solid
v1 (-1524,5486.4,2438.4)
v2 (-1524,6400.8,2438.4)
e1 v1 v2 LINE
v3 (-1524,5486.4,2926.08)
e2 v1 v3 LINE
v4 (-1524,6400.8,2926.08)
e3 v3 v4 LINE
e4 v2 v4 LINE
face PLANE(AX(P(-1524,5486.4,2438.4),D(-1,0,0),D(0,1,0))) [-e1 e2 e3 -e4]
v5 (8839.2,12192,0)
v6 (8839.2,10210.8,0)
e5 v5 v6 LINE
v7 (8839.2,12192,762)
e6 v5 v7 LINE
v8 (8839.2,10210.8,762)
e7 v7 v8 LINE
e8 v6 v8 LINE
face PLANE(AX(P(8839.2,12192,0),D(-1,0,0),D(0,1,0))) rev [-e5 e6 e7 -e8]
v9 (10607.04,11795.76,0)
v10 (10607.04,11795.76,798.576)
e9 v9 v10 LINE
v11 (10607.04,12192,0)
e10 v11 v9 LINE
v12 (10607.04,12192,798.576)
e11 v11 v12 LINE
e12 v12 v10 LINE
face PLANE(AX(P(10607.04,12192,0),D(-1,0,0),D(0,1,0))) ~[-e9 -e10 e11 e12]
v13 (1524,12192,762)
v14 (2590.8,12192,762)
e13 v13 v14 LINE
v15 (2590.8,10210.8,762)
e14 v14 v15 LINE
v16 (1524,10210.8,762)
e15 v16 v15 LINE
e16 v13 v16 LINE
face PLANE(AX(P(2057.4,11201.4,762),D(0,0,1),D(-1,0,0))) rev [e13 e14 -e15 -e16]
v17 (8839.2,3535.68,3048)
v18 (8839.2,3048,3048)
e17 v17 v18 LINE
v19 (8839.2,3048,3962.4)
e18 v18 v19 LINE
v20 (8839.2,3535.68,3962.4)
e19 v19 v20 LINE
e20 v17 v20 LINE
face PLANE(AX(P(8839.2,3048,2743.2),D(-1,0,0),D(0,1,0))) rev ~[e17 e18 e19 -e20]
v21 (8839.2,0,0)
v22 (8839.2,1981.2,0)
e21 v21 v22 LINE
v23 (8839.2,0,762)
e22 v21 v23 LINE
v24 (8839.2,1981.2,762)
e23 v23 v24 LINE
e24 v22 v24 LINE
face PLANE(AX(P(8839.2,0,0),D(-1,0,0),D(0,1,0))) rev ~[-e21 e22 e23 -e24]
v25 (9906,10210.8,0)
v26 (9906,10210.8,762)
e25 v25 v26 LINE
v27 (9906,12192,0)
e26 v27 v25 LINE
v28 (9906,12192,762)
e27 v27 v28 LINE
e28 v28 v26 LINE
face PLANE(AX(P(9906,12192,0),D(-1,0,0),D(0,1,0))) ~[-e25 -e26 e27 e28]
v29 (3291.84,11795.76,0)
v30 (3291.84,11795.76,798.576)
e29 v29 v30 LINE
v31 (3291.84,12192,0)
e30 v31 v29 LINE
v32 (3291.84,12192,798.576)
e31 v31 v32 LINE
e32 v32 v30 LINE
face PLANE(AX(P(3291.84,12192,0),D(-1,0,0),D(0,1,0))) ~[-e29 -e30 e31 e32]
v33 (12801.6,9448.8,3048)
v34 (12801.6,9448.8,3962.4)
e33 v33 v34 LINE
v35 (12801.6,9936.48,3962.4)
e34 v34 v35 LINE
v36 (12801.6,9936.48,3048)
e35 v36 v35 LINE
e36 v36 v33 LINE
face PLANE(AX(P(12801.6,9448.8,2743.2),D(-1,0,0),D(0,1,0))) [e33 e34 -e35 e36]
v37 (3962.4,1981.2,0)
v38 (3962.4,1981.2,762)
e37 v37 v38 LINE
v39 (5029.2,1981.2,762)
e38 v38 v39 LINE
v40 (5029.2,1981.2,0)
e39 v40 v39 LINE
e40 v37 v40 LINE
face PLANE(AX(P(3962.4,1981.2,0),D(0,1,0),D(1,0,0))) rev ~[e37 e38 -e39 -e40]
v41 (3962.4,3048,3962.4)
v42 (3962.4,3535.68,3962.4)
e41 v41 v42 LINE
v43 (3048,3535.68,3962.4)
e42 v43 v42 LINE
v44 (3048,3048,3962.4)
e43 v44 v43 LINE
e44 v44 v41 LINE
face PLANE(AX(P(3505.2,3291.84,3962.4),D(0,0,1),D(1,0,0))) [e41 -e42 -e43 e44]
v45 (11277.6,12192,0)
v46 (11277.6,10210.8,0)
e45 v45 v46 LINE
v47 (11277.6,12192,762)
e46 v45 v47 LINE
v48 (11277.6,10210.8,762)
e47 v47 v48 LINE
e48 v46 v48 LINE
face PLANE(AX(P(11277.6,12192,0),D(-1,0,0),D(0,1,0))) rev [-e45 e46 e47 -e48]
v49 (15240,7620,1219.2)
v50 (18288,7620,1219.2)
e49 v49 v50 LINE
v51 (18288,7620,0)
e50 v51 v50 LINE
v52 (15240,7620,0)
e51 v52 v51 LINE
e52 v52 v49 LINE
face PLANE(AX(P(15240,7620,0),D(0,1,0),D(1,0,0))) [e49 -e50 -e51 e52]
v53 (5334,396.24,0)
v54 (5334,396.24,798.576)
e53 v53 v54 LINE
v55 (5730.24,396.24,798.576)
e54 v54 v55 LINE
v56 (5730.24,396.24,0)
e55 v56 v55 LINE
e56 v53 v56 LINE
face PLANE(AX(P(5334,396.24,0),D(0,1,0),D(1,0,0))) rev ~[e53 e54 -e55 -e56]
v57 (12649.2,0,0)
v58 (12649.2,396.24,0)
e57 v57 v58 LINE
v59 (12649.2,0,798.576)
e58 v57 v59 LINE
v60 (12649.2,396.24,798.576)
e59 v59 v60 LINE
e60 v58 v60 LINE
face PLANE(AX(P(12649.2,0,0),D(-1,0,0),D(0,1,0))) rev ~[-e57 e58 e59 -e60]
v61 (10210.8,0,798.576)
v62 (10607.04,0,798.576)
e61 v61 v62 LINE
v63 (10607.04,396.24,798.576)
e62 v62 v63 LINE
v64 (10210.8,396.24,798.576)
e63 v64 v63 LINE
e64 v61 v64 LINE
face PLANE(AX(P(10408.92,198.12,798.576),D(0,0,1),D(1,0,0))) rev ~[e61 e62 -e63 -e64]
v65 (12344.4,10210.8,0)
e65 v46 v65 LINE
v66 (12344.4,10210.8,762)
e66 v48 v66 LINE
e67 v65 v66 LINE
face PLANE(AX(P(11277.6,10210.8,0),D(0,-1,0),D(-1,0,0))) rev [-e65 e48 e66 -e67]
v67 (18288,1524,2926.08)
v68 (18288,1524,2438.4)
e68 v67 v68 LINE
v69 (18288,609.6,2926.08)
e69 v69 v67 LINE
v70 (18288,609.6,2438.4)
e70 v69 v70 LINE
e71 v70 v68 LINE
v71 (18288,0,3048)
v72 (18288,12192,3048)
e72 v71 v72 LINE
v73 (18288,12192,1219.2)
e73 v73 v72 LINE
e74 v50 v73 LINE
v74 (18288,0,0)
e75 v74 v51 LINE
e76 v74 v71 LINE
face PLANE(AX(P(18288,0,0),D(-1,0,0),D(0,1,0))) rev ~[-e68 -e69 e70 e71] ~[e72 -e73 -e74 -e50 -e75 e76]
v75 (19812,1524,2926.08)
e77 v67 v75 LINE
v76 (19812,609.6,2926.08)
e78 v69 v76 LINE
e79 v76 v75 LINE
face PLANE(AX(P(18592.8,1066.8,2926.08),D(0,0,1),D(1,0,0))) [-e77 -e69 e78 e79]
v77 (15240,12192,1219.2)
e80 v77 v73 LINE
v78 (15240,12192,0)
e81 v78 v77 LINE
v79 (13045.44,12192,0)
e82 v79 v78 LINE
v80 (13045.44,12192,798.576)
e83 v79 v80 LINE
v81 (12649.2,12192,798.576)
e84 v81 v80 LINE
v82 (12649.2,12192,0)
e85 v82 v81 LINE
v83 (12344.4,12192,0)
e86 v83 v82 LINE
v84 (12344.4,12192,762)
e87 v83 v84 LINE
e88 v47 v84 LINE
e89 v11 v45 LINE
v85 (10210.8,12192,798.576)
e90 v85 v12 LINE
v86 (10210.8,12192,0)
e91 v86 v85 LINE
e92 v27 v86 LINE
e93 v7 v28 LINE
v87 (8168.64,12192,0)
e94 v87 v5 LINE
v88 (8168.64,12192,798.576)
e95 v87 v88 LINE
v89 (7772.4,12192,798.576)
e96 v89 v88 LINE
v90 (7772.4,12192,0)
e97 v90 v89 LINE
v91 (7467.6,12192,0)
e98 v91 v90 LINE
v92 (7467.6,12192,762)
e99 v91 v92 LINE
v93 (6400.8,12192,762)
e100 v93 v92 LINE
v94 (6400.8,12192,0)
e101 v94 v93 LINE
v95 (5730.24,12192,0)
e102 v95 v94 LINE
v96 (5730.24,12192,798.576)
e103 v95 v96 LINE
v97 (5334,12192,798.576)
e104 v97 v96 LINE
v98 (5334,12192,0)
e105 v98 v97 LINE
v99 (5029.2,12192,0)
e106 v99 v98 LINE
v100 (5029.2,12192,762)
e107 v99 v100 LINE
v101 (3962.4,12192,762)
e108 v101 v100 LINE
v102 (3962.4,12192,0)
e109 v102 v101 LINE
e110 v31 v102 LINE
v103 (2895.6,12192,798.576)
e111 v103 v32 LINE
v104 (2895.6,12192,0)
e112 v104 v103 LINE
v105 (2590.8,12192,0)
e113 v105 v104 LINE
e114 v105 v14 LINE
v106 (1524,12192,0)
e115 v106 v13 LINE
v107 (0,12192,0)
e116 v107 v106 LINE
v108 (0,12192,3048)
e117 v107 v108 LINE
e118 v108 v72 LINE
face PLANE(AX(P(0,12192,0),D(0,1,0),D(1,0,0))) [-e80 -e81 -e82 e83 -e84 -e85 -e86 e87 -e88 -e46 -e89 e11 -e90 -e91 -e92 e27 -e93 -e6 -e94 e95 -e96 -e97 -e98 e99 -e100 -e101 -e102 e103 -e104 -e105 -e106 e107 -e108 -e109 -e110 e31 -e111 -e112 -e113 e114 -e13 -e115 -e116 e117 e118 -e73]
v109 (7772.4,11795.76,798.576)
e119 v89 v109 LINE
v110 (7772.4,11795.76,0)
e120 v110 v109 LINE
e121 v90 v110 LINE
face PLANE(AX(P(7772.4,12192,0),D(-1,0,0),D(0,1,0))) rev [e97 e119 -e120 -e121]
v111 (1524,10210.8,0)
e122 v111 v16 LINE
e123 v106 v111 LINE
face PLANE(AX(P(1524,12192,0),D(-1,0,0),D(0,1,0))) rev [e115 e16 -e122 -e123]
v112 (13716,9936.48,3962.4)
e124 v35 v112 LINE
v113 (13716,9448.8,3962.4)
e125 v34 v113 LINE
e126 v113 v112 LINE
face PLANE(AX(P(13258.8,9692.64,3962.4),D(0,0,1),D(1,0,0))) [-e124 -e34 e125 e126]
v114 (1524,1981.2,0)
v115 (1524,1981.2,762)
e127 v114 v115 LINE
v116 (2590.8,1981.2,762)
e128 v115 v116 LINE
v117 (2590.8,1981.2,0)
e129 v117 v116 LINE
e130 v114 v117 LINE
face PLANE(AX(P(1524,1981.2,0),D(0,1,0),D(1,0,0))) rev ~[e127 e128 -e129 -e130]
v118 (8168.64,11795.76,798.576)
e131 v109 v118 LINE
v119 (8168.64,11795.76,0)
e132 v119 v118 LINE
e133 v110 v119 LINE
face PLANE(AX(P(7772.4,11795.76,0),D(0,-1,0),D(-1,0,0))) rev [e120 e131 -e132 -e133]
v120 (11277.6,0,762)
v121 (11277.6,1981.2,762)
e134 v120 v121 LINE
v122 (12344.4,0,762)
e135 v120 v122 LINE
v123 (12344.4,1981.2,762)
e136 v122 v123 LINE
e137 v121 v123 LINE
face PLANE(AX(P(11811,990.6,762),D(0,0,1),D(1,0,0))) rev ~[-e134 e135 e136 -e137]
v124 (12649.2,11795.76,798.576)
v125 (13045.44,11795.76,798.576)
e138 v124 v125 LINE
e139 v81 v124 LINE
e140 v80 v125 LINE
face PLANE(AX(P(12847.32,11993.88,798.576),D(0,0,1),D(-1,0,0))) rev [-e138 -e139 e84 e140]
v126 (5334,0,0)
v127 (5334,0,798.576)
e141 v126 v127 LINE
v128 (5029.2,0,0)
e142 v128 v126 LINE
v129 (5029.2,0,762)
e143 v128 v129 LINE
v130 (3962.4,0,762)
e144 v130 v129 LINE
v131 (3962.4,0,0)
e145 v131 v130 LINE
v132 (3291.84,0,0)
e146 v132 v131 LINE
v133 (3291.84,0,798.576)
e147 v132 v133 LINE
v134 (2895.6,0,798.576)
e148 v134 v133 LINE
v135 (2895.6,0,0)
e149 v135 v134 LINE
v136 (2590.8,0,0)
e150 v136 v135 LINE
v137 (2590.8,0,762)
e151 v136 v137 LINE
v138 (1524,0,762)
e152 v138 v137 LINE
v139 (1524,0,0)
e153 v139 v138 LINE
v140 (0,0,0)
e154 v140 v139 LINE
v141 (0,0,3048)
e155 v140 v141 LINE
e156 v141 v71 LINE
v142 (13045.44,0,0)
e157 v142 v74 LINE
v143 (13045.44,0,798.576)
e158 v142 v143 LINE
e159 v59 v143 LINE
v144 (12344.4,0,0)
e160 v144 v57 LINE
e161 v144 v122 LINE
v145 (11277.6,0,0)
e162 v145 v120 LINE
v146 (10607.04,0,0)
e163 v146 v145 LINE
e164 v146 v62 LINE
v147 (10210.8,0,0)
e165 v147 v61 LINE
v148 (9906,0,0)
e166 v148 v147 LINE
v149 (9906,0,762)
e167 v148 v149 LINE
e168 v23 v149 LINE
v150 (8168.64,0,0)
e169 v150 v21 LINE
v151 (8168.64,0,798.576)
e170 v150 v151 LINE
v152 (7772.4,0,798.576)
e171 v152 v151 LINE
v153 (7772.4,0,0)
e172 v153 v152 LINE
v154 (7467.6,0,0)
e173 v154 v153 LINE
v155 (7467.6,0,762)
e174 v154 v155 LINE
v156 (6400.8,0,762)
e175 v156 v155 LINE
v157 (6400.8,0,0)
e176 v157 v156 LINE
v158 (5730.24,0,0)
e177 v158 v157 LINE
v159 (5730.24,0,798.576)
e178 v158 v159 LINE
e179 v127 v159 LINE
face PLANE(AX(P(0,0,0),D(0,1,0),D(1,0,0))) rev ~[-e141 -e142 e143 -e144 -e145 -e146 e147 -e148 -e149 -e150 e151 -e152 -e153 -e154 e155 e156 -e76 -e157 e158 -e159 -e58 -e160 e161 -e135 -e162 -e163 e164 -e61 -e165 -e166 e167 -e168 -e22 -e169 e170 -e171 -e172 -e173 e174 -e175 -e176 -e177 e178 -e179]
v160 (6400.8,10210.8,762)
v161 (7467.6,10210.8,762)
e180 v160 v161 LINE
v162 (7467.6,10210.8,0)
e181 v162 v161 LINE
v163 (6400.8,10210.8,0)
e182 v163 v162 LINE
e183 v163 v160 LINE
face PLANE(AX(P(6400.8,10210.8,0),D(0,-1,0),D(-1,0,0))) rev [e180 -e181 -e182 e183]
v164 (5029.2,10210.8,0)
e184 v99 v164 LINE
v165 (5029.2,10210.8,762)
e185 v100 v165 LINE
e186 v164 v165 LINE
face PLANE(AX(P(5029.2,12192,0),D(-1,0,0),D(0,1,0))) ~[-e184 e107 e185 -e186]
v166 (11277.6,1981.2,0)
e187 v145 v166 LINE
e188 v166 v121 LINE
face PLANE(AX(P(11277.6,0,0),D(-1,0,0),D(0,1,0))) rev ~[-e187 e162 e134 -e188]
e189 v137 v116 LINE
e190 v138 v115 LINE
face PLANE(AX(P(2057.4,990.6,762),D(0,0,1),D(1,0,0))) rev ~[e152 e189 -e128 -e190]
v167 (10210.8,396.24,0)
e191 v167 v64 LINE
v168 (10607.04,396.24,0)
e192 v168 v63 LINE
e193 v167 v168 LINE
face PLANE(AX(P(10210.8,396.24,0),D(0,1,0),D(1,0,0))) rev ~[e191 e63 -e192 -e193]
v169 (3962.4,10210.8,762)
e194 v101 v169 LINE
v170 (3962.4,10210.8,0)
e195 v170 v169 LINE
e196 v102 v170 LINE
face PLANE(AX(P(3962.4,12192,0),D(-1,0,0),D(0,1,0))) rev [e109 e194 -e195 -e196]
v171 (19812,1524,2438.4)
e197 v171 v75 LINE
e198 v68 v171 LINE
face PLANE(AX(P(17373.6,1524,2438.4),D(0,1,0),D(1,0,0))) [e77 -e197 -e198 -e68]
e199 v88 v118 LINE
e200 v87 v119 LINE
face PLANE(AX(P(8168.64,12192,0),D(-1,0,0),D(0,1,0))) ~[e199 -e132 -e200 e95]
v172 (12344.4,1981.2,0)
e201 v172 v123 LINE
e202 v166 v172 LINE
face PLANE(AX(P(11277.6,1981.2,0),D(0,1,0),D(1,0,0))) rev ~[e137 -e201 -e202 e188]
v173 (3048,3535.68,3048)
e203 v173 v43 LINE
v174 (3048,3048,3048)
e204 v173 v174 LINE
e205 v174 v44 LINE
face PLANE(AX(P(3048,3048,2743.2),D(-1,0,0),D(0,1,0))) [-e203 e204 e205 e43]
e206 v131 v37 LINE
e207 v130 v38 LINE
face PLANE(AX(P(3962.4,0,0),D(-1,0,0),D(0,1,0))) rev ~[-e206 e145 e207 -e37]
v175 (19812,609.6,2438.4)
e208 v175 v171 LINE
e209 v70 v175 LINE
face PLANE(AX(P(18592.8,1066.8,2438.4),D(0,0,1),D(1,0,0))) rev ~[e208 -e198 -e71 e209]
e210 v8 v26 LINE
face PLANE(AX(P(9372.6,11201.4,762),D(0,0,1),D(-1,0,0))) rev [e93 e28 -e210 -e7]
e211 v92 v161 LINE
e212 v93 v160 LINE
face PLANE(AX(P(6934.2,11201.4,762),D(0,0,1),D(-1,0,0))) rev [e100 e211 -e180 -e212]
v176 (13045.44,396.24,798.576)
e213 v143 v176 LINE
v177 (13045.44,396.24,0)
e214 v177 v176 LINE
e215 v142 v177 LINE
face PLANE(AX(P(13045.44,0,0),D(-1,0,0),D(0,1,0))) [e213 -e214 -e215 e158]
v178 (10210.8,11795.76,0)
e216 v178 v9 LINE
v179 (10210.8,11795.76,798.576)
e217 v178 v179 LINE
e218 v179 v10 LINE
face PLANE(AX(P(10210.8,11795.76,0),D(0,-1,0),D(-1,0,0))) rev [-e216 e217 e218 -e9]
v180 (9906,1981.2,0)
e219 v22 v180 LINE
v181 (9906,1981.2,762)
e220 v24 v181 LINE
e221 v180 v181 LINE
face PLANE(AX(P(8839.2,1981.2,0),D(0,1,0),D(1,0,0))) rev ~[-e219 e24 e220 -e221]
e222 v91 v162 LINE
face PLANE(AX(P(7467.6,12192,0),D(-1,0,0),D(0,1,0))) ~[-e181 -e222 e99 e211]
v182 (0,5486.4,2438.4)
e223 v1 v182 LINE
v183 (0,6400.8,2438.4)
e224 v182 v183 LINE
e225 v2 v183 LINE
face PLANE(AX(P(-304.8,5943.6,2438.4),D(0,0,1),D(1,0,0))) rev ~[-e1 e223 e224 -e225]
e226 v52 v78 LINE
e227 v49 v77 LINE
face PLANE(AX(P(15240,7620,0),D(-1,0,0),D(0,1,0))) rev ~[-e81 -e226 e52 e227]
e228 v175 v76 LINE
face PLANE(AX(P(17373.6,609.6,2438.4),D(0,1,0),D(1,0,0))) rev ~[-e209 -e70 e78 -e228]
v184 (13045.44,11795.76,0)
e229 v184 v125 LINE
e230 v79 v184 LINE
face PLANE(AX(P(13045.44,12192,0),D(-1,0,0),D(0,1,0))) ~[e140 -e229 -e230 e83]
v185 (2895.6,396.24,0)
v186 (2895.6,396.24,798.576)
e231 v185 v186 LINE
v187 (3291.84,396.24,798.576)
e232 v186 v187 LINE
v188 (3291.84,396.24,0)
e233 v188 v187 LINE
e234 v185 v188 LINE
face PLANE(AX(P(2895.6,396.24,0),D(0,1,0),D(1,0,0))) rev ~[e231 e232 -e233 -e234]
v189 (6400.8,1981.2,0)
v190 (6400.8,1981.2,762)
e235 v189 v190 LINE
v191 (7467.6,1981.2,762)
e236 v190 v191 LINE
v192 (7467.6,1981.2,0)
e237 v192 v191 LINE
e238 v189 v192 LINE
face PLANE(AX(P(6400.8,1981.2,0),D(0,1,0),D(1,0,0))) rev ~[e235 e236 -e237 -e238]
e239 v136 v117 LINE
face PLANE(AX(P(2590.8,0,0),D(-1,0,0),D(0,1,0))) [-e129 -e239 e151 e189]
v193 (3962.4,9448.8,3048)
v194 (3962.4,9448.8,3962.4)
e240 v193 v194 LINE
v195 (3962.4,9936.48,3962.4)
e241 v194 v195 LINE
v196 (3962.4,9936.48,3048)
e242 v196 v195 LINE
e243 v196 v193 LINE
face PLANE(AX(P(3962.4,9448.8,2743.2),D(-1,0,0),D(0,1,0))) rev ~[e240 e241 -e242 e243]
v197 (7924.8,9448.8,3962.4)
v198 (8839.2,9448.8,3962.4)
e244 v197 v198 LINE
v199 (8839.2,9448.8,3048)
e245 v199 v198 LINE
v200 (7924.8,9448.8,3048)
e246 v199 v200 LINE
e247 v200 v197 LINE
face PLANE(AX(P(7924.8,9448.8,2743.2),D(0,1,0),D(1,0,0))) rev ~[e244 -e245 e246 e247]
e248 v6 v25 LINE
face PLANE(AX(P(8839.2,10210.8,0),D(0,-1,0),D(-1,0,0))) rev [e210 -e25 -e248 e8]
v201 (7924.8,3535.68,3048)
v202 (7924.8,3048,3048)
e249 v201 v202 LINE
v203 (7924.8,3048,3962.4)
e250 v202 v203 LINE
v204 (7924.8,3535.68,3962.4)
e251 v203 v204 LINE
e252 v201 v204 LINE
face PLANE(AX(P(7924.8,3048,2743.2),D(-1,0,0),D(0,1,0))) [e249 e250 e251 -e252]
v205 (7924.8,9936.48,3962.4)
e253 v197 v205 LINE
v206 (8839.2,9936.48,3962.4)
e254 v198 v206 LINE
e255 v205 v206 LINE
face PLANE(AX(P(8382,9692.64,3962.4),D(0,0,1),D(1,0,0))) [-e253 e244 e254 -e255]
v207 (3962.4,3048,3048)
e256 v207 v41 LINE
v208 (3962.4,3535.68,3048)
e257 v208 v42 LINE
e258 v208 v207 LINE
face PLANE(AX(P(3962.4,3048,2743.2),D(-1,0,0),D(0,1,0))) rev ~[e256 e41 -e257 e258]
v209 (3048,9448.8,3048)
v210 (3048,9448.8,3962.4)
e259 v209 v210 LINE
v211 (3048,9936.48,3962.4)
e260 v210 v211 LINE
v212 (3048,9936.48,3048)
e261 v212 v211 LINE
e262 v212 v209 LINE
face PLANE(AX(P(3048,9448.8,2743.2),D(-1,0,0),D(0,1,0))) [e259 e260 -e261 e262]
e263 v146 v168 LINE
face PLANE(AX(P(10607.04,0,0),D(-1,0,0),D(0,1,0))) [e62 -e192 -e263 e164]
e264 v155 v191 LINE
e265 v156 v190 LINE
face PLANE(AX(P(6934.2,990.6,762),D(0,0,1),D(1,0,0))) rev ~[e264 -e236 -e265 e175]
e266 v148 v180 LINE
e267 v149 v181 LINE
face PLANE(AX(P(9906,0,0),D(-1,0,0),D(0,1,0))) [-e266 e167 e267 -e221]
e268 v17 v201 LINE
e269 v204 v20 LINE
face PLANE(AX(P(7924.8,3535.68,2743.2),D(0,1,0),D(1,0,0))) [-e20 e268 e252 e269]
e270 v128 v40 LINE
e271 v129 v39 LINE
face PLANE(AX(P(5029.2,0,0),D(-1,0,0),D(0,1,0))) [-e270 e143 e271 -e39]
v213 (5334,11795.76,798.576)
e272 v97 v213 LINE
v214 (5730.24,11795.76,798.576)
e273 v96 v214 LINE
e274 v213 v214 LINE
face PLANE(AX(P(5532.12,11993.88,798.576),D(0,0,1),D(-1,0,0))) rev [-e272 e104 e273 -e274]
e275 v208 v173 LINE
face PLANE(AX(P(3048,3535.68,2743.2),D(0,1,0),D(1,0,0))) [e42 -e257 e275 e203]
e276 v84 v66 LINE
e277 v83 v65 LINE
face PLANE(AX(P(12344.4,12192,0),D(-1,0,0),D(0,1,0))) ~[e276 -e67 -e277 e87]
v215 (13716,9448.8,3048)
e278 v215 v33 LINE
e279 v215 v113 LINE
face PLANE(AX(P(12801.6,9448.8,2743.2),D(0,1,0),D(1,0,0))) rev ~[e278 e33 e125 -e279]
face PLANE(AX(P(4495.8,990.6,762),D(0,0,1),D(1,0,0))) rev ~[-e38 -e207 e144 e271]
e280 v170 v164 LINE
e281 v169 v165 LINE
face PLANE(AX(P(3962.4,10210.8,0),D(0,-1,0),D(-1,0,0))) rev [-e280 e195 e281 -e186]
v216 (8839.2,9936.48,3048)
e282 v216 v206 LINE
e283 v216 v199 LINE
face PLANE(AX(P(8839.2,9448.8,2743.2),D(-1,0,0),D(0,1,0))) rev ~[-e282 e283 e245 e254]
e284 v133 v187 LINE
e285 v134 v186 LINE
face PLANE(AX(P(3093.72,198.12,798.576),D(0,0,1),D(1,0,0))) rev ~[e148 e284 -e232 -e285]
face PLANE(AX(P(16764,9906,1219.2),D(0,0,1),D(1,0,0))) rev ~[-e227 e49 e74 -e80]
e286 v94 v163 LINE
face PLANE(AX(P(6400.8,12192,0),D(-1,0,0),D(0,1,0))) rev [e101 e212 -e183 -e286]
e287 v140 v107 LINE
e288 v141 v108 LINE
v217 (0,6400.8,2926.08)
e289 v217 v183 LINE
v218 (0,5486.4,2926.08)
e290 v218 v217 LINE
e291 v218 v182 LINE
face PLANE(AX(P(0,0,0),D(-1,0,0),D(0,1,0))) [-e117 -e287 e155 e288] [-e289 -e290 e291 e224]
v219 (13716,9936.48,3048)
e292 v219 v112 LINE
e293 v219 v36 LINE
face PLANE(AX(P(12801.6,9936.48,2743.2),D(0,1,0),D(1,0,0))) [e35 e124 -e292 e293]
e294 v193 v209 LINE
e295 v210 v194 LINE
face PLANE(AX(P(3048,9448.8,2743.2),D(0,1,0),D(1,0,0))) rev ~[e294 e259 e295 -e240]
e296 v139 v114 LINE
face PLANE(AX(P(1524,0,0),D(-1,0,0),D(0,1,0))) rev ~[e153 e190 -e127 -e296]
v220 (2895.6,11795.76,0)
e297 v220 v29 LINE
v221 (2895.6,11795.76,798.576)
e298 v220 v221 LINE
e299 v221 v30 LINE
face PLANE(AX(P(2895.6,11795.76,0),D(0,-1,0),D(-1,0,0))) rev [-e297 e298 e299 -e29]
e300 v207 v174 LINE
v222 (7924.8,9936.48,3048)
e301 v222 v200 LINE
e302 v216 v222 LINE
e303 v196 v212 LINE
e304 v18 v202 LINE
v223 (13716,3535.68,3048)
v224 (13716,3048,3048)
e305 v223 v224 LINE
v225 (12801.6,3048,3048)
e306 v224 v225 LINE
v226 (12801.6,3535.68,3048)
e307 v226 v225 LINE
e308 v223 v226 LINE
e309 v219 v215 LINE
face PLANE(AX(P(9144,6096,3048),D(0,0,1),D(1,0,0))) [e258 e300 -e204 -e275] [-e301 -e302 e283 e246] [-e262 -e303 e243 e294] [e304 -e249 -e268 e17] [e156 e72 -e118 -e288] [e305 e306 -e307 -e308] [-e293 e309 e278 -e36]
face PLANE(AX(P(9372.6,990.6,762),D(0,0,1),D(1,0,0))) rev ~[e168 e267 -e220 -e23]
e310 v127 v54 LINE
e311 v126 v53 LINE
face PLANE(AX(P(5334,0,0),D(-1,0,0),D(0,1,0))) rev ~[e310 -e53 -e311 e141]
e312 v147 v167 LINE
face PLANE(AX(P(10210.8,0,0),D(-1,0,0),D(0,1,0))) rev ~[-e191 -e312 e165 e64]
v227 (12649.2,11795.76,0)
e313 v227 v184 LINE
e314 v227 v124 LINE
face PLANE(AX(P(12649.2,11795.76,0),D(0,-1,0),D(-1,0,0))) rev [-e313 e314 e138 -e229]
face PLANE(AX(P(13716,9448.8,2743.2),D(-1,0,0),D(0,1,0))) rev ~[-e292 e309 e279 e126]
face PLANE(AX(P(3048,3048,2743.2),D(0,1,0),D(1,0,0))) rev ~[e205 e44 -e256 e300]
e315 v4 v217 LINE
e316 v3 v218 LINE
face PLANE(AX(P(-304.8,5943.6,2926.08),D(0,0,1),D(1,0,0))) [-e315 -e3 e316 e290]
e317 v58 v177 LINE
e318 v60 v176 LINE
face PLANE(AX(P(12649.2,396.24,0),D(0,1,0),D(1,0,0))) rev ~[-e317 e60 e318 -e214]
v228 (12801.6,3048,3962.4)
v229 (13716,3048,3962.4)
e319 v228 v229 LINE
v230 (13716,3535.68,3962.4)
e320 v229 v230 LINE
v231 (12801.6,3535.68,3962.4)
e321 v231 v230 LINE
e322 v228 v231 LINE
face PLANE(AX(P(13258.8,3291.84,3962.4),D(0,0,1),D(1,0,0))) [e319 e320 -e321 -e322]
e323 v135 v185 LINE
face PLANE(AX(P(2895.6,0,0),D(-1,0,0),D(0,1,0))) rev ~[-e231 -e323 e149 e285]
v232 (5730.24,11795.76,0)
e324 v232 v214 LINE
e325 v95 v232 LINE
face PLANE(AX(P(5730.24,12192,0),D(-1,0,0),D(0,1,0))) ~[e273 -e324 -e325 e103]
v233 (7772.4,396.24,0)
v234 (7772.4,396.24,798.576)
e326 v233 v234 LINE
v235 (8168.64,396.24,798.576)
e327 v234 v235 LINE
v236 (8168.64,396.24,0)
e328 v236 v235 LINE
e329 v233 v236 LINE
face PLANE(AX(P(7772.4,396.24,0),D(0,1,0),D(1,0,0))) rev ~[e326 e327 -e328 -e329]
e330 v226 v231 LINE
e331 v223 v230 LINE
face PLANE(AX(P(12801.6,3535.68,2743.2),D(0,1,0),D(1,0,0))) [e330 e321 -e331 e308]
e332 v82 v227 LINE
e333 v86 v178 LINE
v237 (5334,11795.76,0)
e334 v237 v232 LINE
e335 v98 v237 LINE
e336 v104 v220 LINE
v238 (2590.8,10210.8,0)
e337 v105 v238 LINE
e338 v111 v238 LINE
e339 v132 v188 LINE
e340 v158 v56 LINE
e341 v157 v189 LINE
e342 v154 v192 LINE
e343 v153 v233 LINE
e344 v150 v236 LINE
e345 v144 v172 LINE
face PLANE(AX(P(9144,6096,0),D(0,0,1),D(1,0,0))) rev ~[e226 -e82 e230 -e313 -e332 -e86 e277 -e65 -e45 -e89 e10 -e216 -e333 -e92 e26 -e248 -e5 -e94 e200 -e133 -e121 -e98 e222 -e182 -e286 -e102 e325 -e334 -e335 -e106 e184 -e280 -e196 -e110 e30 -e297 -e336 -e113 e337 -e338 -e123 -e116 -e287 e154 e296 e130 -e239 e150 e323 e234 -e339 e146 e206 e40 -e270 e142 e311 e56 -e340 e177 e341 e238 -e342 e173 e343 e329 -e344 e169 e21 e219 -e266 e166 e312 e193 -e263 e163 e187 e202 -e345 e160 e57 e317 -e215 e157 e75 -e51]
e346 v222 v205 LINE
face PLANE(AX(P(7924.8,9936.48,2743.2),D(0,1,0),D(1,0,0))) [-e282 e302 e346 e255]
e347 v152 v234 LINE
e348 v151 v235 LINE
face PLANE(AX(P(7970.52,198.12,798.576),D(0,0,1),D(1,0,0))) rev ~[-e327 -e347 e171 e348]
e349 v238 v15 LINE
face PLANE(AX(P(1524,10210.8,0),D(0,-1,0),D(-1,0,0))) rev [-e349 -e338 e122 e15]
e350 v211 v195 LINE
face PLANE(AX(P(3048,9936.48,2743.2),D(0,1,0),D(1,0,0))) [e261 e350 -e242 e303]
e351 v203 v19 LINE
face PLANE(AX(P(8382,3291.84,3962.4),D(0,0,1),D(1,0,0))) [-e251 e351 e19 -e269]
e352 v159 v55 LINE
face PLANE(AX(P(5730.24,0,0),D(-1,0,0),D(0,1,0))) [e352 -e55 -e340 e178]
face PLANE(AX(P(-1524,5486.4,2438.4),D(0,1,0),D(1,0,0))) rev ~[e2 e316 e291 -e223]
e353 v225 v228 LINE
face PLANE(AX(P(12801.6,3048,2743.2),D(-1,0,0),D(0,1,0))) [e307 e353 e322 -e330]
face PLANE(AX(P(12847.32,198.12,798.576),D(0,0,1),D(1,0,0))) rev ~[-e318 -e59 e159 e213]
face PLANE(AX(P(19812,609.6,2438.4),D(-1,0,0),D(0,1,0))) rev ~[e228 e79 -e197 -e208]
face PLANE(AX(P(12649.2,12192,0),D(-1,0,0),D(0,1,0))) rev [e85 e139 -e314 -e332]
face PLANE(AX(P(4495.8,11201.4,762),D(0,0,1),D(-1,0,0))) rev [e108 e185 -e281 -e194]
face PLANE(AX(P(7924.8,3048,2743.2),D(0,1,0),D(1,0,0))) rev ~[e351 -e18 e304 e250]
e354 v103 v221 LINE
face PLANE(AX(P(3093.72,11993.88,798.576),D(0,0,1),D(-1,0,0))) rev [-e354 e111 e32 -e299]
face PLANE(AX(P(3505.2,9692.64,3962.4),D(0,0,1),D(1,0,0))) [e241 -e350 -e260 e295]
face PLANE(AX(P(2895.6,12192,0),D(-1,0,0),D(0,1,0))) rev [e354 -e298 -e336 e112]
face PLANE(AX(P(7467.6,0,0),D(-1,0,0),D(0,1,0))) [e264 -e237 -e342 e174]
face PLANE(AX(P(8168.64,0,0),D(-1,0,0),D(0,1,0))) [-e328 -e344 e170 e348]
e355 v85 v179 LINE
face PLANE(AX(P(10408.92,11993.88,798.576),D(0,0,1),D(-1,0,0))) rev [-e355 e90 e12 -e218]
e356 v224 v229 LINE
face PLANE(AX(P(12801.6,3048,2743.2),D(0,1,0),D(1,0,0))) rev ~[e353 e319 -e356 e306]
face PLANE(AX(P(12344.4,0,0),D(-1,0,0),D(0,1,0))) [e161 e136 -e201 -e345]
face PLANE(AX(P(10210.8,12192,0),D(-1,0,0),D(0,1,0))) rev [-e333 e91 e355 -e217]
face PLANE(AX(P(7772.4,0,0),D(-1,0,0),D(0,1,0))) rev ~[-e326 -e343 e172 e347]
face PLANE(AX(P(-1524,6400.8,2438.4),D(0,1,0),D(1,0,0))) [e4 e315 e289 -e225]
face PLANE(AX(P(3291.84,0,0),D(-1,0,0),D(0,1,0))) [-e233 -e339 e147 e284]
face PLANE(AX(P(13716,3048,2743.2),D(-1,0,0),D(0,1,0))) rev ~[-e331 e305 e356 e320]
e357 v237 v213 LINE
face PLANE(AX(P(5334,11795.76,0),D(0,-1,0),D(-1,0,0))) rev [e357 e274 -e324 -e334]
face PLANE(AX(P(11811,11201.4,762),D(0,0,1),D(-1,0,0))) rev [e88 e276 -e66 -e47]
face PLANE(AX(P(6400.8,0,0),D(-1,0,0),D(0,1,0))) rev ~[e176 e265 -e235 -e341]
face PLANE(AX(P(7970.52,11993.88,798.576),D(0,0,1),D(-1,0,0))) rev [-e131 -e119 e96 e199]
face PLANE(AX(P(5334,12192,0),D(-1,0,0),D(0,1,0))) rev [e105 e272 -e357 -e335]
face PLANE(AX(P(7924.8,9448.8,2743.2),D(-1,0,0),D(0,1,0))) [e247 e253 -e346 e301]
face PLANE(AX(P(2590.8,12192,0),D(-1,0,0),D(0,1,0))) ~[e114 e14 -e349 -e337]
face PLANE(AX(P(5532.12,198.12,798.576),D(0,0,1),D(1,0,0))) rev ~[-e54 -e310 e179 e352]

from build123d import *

# Parameters (mm, degrees)
BOX011_W     = 3048
BOX011_H     = 4572
BOX011_DEPTH = 1219.2
BOX006_W     = 1066.8
BOX006_H     = 1981.2
BOX006_DEPTH = 762
BOX005_W     = 396.24
BOX005_H     = 396.24
BOX005_DEPTH = 798.576
BOX007_W     = 1066.8
BOX007_H     = 1981.2
BOX007_DEPTH = 762
BOX008_W     = 396.24
BOX008_H     = 396.24
BOX008_DEPTH = 798.576
BOX010_W     = 1066.8
BOX010_H     = 1981.2
BOX010_DEPTH = 762
BOX009_W     = 396.24
BOX009_H     = 396.24
BOX009_DEPTH = 798.576
BOX001_W     = 1066.8
BOX001_H     = 1981.2
BOX001_DEPTH = 762
BOX002_W     = 396.24
BOX002_H     = 396.24
BOX002_DEPTH = 798.576
BOX003_W     = 1066.8
BOX003_H     = 1981.2
BOX003_DEPTH = 762
BOX004_W     = 396.24
BOX004_H     = 396.24
BOX004_DEPTH = 798.576
BOX016_W     = 914.4
BOX016_H     = 487.68
BOX016_DEPTH = 1219.2
BOX018_W     = 914.4
BOX018_H     = 487.68
BOX018_DEPTH = 1219.2
BOX017_W     = 914.4
BOX017_H     = 487.68
BOX017_DEPTH = 1219.2
BOX015_W     = 914.4
BOX015_H     = 487.68
BOX015_DEPTH = 1219.2
BOX014_W     = 914.4
BOX014_H     = 487.68
BOX014_DEPTH = 1219.2
BOX019_W     = 914.4
BOX019_H     = 487.68
BOX019_DEPTH = 1219.2
BOX013_W     = 2438.4
BOX013_H     = 914.4
BOX013_DEPTH = 487.68
BOX012_W     = 2438.4
BOX012_H     = 914.4
BOX012_DEPTH = 487.68
BOX_W        = 18288
BOX_H        = 12192
BOX_DEPTH    = 3048


with BuildPart() as nurse_station:
    # Box011 → Box011 (new body)
    with BuildSketch(Plane(origin=(15240, 7620, 0), x_dir=(1, 0, 0), z_dir=(0, 0, 1))):
        with Locations((1524, 2286)):
            Rectangle(BOX011_W, BOX011_H)
    extrude(amount=BOX011_DEPTH)


with BuildPart() as box006:
    # Box006 → Box006 (new body)
    with BuildSketch(Plane.XY):
        with Locations((533.4, 990.6)):
            Rectangle(BOX006_W, BOX006_H)
    extrude(amount=BOX006_DEPTH)


with BuildPart() as fusion002:
    # Box005 → Box005 (new body)
    with BuildSketch(Plane(origin=(1371.6, 0, 0), x_dir=(1, 0, 0), z_dir=(0, 0, 1))):
        with Locations((198.12, 198.12)):
            Rectangle(BOX005_W, BOX005_H)
    extrude(amount=BOX005_DEPTH)

    # Fusion002: union Box006
    add(box006.part)


with BuildPart() as fusion002_1:
    # Fusion002 placement: moved
    add(fusion002.part.moved(Location((4876.8, 0, 0))))


with BuildPart() as box007:
    # Box007 → Box007 (new body)
    with BuildSketch(Plane.XY):
        with Locations((533.4, 990.6)):
            Rectangle(BOX007_W, BOX007_H)
    extrude(amount=BOX007_DEPTH)


with BuildPart() as fusion003:
    # Box008 → Box008 (new body)
    with BuildSketch(Plane(origin=(1371.6, 0, 0), x_dir=(1, 0, 0), z_dir=(0, 0, 1))):
        with Locations((198.12, 198.12)):
            Rectangle(BOX008_W, BOX008_H)
    extrude(amount=BOX008_DEPTH)

    # Fusion003: union Box007
    add(box007.part)


with BuildPart() as fusion003_1:
    # Fusion003 placement: moved
    add(fusion003.part.moved(Location((7315.2, 0, 0))))


with BuildPart() as box010:
    # Box010 → Box010 (new body)
    with BuildSketch(Plane.XY):
        with Locations((533.4, 990.6)):
            Rectangle(BOX010_W, BOX010_H)
    extrude(amount=BOX010_DEPTH)


with BuildPart() as fusion004:
    # Box009 → Box009 (new body)
    with BuildSketch(Plane(origin=(1371.6, 0, 0), x_dir=(1, 0, 0), z_dir=(0, 0, 1))):
        with Locations((198.12, 198.12)):
            Rectangle(BOX009_W, BOX009_H)
    extrude(amount=BOX009_DEPTH)

    # Fusion004: union Box010
    add(box010.part)


with BuildPart() as fusion004_1:
    # Fusion004 placement: moved
    add(fusion004.part.moved(Location((9753.6, 0, 0))))


with BuildPart() as box001:
    # Box001 → Box001 (new body)
    with BuildSketch(Plane.XY):
        with Locations((533.4, 990.6)):
            Rectangle(BOX001_W, BOX001_H)
    extrude(amount=BOX001_DEPTH)


with BuildPart() as fusion:
    # Box002 → Box002 (new body)
    with BuildSketch(Plane(origin=(1371.6, 0, 0), x_dir=(1, 0, 0), z_dir=(0, 0, 1))):
        with Locations((198.12, 198.12)):
            Rectangle(BOX002_W, BOX002_H)
    extrude(amount=BOX002_DEPTH)

    # Fusion: union Box001
    add(box001.part)


with BuildPart() as box003:
    # Box003 → Box003 (new body)
    with BuildSketch(Plane.XY):
        with Locations((533.4, 990.6)):
            Rectangle(BOX003_W, BOX003_H)
    extrude(amount=BOX003_DEPTH)


with BuildPart() as right_beds:
    # Box004 → Box004 (new body)
    with BuildSketch(Plane(origin=(1371.6, 0, 0), x_dir=(1, 0, 0), z_dir=(0, 0, 1))):
        with Locations((198.12, 198.12)):
            Rectangle(BOX004_W, BOX004_H)
    extrude(amount=BOX004_DEPTH)

    # Fusion001: union Box003
    add(box003.part)


with BuildPart() as right_beds_1:
    # Fusion001 placement: moved
    add(right_beds.part.moved(Location((2438.4, 0, 0))))

    # Fusion005: union Fusion002, Fusion003, Fusion004, Fusion
    add(fusion002_1.part)
    add(fusion003_1.part)
    add(fusion004_1.part)
    add(fusion.part)


with BuildPart() as all_surfaces:
    # Part__Mirroring: instance of right beds
    add(right_beds_1.part.mirror(Plane(origin=(0, 6096, 0), x_dir=(1, 0, 0), z_dir=(0, 1, 0))))

    # Fusion006: union right beds
    add(right_beds_1.part)


with BuildPart() as all_surfaces_1:
    # Fusion006 placement: moved
    add(all_surfaces.part.moved(Location((1524, 0, 0))))

    # Fusion011: union Nurse Station
    add(nurse_station.part)


with BuildPart() as branch002:
    # Box016 → Box016 (new body)
    with BuildSketch(Plane(origin=(7924.8, 3048, 2743.2), x_dir=(1, 0, 0), z_dir=(0, 0, 1))):
        with Locations((457.2, 243.84)):
            Rectangle(BOX016_W, BOX016_H)
    extrude(amount=BOX016_DEPTH)


with BuildPart() as branch004:
    # Box018 → Box018 (new body)
    with BuildSketch(Plane(origin=(3048, 3048, 2743.2), x_dir=(1, 0, 0), z_dir=(0, 0, 1))):
        with Locations((457.2, 243.84)):
            Rectangle(BOX018_W, BOX018_H)
    extrude(amount=BOX018_DEPTH)


with BuildPart() as branch003:
    # Box017 → Box017 (new body)
    with BuildSketch(Plane(origin=(7924.8, 9448.8, 2743.2), x_dir=(1, 0, 0), z_dir=(0, 0, 1))):
        with Locations((457.2, 243.84)):
            Rectangle(BOX017_W, BOX017_H)
    extrude(amount=BOX017_DEPTH)


with BuildPart() as branch001:
    # Box015 → Box015 (new body)
    with BuildSketch(Plane(origin=(12801.6, 3048, 2743.2), x_dir=(1, 0, 0), z_dir=(0, 0, 1))):
        with Locations((457.2, 243.84)):
            Rectangle(BOX015_W, BOX015_H)
    extrude(amount=BOX015_DEPTH)


with BuildPart() as branch:
    # Box014 → Box014 (new body)
    with BuildSketch(Plane(origin=(12801.6, 9448.8, 2743.2), x_dir=(1, 0, 0), z_dir=(0, 0, 1))):
        with Locations((457.2, 243.84)):
            Rectangle(BOX014_W, BOX014_H)
    extrude(amount=BOX014_DEPTH)


with BuildPart() as branch_ducts:
    # Box019 → Box019 (new body)
    with BuildSketch(Plane(origin=(3048, 9448.8, 2743.2), x_dir=(1, 0, 0), z_dir=(0, 0, 1))):
        with Locations((457.2, 243.84)):
            Rectangle(BOX019_W, BOX019_H)
    extrude(amount=BOX019_DEPTH)

    # Fusion007: union branch002, branch004, branch003, branch001, branch
    add(branch002.part)
    add(branch004.part)
    add(branch003.part)
    add(branch001.part)
    add(branch.part)


with BuildPart() as main_outlet:
    # Box013 → Box013 (new body)
    with BuildSketch(Plane(origin=(-1524, 5486.4, 2438.4), x_dir=(1, 0, 0), z_dir=(0, 0, 1))):
        with Locations((1219.2, 457.2)):
            Rectangle(BOX013_W, BOX013_H)
    extrude(amount=BOX013_DEPTH)


with BuildPart() as all_ducts:
    # Box012 → Box012 (new body)
    with BuildSketch(Plane(origin=(17373.6, 609.6, 2438.4), x_dir=(1, 0, 0), z_dir=(0, 0, 1))):
        with Locations((1219.2, 457.2)):
            Rectangle(BOX012_W, BOX012_H)
    extrude(amount=BOX012_DEPTH)

    # Fusion008: union main outlet
    add(main_outlet.part)

    # Fusion009: union branch ducts
    add(branch_ducts.part)


with BuildPart() as flow_field:
    # Box → Box (new body)
    with BuildSketch(Plane.XY):
        with Locations((9144, 6096)):
            Rectangle(BOX_W, BOX_H)
    extrude(amount=BOX_DEPTH)

    # Fusion010: union all ducts
    add(all_ducts.part)

    # Cut: cut All_Surfaces
    add(all_surfaces_1.part, mode=Mode.SUBTRACT)


solid = flow_field.part
